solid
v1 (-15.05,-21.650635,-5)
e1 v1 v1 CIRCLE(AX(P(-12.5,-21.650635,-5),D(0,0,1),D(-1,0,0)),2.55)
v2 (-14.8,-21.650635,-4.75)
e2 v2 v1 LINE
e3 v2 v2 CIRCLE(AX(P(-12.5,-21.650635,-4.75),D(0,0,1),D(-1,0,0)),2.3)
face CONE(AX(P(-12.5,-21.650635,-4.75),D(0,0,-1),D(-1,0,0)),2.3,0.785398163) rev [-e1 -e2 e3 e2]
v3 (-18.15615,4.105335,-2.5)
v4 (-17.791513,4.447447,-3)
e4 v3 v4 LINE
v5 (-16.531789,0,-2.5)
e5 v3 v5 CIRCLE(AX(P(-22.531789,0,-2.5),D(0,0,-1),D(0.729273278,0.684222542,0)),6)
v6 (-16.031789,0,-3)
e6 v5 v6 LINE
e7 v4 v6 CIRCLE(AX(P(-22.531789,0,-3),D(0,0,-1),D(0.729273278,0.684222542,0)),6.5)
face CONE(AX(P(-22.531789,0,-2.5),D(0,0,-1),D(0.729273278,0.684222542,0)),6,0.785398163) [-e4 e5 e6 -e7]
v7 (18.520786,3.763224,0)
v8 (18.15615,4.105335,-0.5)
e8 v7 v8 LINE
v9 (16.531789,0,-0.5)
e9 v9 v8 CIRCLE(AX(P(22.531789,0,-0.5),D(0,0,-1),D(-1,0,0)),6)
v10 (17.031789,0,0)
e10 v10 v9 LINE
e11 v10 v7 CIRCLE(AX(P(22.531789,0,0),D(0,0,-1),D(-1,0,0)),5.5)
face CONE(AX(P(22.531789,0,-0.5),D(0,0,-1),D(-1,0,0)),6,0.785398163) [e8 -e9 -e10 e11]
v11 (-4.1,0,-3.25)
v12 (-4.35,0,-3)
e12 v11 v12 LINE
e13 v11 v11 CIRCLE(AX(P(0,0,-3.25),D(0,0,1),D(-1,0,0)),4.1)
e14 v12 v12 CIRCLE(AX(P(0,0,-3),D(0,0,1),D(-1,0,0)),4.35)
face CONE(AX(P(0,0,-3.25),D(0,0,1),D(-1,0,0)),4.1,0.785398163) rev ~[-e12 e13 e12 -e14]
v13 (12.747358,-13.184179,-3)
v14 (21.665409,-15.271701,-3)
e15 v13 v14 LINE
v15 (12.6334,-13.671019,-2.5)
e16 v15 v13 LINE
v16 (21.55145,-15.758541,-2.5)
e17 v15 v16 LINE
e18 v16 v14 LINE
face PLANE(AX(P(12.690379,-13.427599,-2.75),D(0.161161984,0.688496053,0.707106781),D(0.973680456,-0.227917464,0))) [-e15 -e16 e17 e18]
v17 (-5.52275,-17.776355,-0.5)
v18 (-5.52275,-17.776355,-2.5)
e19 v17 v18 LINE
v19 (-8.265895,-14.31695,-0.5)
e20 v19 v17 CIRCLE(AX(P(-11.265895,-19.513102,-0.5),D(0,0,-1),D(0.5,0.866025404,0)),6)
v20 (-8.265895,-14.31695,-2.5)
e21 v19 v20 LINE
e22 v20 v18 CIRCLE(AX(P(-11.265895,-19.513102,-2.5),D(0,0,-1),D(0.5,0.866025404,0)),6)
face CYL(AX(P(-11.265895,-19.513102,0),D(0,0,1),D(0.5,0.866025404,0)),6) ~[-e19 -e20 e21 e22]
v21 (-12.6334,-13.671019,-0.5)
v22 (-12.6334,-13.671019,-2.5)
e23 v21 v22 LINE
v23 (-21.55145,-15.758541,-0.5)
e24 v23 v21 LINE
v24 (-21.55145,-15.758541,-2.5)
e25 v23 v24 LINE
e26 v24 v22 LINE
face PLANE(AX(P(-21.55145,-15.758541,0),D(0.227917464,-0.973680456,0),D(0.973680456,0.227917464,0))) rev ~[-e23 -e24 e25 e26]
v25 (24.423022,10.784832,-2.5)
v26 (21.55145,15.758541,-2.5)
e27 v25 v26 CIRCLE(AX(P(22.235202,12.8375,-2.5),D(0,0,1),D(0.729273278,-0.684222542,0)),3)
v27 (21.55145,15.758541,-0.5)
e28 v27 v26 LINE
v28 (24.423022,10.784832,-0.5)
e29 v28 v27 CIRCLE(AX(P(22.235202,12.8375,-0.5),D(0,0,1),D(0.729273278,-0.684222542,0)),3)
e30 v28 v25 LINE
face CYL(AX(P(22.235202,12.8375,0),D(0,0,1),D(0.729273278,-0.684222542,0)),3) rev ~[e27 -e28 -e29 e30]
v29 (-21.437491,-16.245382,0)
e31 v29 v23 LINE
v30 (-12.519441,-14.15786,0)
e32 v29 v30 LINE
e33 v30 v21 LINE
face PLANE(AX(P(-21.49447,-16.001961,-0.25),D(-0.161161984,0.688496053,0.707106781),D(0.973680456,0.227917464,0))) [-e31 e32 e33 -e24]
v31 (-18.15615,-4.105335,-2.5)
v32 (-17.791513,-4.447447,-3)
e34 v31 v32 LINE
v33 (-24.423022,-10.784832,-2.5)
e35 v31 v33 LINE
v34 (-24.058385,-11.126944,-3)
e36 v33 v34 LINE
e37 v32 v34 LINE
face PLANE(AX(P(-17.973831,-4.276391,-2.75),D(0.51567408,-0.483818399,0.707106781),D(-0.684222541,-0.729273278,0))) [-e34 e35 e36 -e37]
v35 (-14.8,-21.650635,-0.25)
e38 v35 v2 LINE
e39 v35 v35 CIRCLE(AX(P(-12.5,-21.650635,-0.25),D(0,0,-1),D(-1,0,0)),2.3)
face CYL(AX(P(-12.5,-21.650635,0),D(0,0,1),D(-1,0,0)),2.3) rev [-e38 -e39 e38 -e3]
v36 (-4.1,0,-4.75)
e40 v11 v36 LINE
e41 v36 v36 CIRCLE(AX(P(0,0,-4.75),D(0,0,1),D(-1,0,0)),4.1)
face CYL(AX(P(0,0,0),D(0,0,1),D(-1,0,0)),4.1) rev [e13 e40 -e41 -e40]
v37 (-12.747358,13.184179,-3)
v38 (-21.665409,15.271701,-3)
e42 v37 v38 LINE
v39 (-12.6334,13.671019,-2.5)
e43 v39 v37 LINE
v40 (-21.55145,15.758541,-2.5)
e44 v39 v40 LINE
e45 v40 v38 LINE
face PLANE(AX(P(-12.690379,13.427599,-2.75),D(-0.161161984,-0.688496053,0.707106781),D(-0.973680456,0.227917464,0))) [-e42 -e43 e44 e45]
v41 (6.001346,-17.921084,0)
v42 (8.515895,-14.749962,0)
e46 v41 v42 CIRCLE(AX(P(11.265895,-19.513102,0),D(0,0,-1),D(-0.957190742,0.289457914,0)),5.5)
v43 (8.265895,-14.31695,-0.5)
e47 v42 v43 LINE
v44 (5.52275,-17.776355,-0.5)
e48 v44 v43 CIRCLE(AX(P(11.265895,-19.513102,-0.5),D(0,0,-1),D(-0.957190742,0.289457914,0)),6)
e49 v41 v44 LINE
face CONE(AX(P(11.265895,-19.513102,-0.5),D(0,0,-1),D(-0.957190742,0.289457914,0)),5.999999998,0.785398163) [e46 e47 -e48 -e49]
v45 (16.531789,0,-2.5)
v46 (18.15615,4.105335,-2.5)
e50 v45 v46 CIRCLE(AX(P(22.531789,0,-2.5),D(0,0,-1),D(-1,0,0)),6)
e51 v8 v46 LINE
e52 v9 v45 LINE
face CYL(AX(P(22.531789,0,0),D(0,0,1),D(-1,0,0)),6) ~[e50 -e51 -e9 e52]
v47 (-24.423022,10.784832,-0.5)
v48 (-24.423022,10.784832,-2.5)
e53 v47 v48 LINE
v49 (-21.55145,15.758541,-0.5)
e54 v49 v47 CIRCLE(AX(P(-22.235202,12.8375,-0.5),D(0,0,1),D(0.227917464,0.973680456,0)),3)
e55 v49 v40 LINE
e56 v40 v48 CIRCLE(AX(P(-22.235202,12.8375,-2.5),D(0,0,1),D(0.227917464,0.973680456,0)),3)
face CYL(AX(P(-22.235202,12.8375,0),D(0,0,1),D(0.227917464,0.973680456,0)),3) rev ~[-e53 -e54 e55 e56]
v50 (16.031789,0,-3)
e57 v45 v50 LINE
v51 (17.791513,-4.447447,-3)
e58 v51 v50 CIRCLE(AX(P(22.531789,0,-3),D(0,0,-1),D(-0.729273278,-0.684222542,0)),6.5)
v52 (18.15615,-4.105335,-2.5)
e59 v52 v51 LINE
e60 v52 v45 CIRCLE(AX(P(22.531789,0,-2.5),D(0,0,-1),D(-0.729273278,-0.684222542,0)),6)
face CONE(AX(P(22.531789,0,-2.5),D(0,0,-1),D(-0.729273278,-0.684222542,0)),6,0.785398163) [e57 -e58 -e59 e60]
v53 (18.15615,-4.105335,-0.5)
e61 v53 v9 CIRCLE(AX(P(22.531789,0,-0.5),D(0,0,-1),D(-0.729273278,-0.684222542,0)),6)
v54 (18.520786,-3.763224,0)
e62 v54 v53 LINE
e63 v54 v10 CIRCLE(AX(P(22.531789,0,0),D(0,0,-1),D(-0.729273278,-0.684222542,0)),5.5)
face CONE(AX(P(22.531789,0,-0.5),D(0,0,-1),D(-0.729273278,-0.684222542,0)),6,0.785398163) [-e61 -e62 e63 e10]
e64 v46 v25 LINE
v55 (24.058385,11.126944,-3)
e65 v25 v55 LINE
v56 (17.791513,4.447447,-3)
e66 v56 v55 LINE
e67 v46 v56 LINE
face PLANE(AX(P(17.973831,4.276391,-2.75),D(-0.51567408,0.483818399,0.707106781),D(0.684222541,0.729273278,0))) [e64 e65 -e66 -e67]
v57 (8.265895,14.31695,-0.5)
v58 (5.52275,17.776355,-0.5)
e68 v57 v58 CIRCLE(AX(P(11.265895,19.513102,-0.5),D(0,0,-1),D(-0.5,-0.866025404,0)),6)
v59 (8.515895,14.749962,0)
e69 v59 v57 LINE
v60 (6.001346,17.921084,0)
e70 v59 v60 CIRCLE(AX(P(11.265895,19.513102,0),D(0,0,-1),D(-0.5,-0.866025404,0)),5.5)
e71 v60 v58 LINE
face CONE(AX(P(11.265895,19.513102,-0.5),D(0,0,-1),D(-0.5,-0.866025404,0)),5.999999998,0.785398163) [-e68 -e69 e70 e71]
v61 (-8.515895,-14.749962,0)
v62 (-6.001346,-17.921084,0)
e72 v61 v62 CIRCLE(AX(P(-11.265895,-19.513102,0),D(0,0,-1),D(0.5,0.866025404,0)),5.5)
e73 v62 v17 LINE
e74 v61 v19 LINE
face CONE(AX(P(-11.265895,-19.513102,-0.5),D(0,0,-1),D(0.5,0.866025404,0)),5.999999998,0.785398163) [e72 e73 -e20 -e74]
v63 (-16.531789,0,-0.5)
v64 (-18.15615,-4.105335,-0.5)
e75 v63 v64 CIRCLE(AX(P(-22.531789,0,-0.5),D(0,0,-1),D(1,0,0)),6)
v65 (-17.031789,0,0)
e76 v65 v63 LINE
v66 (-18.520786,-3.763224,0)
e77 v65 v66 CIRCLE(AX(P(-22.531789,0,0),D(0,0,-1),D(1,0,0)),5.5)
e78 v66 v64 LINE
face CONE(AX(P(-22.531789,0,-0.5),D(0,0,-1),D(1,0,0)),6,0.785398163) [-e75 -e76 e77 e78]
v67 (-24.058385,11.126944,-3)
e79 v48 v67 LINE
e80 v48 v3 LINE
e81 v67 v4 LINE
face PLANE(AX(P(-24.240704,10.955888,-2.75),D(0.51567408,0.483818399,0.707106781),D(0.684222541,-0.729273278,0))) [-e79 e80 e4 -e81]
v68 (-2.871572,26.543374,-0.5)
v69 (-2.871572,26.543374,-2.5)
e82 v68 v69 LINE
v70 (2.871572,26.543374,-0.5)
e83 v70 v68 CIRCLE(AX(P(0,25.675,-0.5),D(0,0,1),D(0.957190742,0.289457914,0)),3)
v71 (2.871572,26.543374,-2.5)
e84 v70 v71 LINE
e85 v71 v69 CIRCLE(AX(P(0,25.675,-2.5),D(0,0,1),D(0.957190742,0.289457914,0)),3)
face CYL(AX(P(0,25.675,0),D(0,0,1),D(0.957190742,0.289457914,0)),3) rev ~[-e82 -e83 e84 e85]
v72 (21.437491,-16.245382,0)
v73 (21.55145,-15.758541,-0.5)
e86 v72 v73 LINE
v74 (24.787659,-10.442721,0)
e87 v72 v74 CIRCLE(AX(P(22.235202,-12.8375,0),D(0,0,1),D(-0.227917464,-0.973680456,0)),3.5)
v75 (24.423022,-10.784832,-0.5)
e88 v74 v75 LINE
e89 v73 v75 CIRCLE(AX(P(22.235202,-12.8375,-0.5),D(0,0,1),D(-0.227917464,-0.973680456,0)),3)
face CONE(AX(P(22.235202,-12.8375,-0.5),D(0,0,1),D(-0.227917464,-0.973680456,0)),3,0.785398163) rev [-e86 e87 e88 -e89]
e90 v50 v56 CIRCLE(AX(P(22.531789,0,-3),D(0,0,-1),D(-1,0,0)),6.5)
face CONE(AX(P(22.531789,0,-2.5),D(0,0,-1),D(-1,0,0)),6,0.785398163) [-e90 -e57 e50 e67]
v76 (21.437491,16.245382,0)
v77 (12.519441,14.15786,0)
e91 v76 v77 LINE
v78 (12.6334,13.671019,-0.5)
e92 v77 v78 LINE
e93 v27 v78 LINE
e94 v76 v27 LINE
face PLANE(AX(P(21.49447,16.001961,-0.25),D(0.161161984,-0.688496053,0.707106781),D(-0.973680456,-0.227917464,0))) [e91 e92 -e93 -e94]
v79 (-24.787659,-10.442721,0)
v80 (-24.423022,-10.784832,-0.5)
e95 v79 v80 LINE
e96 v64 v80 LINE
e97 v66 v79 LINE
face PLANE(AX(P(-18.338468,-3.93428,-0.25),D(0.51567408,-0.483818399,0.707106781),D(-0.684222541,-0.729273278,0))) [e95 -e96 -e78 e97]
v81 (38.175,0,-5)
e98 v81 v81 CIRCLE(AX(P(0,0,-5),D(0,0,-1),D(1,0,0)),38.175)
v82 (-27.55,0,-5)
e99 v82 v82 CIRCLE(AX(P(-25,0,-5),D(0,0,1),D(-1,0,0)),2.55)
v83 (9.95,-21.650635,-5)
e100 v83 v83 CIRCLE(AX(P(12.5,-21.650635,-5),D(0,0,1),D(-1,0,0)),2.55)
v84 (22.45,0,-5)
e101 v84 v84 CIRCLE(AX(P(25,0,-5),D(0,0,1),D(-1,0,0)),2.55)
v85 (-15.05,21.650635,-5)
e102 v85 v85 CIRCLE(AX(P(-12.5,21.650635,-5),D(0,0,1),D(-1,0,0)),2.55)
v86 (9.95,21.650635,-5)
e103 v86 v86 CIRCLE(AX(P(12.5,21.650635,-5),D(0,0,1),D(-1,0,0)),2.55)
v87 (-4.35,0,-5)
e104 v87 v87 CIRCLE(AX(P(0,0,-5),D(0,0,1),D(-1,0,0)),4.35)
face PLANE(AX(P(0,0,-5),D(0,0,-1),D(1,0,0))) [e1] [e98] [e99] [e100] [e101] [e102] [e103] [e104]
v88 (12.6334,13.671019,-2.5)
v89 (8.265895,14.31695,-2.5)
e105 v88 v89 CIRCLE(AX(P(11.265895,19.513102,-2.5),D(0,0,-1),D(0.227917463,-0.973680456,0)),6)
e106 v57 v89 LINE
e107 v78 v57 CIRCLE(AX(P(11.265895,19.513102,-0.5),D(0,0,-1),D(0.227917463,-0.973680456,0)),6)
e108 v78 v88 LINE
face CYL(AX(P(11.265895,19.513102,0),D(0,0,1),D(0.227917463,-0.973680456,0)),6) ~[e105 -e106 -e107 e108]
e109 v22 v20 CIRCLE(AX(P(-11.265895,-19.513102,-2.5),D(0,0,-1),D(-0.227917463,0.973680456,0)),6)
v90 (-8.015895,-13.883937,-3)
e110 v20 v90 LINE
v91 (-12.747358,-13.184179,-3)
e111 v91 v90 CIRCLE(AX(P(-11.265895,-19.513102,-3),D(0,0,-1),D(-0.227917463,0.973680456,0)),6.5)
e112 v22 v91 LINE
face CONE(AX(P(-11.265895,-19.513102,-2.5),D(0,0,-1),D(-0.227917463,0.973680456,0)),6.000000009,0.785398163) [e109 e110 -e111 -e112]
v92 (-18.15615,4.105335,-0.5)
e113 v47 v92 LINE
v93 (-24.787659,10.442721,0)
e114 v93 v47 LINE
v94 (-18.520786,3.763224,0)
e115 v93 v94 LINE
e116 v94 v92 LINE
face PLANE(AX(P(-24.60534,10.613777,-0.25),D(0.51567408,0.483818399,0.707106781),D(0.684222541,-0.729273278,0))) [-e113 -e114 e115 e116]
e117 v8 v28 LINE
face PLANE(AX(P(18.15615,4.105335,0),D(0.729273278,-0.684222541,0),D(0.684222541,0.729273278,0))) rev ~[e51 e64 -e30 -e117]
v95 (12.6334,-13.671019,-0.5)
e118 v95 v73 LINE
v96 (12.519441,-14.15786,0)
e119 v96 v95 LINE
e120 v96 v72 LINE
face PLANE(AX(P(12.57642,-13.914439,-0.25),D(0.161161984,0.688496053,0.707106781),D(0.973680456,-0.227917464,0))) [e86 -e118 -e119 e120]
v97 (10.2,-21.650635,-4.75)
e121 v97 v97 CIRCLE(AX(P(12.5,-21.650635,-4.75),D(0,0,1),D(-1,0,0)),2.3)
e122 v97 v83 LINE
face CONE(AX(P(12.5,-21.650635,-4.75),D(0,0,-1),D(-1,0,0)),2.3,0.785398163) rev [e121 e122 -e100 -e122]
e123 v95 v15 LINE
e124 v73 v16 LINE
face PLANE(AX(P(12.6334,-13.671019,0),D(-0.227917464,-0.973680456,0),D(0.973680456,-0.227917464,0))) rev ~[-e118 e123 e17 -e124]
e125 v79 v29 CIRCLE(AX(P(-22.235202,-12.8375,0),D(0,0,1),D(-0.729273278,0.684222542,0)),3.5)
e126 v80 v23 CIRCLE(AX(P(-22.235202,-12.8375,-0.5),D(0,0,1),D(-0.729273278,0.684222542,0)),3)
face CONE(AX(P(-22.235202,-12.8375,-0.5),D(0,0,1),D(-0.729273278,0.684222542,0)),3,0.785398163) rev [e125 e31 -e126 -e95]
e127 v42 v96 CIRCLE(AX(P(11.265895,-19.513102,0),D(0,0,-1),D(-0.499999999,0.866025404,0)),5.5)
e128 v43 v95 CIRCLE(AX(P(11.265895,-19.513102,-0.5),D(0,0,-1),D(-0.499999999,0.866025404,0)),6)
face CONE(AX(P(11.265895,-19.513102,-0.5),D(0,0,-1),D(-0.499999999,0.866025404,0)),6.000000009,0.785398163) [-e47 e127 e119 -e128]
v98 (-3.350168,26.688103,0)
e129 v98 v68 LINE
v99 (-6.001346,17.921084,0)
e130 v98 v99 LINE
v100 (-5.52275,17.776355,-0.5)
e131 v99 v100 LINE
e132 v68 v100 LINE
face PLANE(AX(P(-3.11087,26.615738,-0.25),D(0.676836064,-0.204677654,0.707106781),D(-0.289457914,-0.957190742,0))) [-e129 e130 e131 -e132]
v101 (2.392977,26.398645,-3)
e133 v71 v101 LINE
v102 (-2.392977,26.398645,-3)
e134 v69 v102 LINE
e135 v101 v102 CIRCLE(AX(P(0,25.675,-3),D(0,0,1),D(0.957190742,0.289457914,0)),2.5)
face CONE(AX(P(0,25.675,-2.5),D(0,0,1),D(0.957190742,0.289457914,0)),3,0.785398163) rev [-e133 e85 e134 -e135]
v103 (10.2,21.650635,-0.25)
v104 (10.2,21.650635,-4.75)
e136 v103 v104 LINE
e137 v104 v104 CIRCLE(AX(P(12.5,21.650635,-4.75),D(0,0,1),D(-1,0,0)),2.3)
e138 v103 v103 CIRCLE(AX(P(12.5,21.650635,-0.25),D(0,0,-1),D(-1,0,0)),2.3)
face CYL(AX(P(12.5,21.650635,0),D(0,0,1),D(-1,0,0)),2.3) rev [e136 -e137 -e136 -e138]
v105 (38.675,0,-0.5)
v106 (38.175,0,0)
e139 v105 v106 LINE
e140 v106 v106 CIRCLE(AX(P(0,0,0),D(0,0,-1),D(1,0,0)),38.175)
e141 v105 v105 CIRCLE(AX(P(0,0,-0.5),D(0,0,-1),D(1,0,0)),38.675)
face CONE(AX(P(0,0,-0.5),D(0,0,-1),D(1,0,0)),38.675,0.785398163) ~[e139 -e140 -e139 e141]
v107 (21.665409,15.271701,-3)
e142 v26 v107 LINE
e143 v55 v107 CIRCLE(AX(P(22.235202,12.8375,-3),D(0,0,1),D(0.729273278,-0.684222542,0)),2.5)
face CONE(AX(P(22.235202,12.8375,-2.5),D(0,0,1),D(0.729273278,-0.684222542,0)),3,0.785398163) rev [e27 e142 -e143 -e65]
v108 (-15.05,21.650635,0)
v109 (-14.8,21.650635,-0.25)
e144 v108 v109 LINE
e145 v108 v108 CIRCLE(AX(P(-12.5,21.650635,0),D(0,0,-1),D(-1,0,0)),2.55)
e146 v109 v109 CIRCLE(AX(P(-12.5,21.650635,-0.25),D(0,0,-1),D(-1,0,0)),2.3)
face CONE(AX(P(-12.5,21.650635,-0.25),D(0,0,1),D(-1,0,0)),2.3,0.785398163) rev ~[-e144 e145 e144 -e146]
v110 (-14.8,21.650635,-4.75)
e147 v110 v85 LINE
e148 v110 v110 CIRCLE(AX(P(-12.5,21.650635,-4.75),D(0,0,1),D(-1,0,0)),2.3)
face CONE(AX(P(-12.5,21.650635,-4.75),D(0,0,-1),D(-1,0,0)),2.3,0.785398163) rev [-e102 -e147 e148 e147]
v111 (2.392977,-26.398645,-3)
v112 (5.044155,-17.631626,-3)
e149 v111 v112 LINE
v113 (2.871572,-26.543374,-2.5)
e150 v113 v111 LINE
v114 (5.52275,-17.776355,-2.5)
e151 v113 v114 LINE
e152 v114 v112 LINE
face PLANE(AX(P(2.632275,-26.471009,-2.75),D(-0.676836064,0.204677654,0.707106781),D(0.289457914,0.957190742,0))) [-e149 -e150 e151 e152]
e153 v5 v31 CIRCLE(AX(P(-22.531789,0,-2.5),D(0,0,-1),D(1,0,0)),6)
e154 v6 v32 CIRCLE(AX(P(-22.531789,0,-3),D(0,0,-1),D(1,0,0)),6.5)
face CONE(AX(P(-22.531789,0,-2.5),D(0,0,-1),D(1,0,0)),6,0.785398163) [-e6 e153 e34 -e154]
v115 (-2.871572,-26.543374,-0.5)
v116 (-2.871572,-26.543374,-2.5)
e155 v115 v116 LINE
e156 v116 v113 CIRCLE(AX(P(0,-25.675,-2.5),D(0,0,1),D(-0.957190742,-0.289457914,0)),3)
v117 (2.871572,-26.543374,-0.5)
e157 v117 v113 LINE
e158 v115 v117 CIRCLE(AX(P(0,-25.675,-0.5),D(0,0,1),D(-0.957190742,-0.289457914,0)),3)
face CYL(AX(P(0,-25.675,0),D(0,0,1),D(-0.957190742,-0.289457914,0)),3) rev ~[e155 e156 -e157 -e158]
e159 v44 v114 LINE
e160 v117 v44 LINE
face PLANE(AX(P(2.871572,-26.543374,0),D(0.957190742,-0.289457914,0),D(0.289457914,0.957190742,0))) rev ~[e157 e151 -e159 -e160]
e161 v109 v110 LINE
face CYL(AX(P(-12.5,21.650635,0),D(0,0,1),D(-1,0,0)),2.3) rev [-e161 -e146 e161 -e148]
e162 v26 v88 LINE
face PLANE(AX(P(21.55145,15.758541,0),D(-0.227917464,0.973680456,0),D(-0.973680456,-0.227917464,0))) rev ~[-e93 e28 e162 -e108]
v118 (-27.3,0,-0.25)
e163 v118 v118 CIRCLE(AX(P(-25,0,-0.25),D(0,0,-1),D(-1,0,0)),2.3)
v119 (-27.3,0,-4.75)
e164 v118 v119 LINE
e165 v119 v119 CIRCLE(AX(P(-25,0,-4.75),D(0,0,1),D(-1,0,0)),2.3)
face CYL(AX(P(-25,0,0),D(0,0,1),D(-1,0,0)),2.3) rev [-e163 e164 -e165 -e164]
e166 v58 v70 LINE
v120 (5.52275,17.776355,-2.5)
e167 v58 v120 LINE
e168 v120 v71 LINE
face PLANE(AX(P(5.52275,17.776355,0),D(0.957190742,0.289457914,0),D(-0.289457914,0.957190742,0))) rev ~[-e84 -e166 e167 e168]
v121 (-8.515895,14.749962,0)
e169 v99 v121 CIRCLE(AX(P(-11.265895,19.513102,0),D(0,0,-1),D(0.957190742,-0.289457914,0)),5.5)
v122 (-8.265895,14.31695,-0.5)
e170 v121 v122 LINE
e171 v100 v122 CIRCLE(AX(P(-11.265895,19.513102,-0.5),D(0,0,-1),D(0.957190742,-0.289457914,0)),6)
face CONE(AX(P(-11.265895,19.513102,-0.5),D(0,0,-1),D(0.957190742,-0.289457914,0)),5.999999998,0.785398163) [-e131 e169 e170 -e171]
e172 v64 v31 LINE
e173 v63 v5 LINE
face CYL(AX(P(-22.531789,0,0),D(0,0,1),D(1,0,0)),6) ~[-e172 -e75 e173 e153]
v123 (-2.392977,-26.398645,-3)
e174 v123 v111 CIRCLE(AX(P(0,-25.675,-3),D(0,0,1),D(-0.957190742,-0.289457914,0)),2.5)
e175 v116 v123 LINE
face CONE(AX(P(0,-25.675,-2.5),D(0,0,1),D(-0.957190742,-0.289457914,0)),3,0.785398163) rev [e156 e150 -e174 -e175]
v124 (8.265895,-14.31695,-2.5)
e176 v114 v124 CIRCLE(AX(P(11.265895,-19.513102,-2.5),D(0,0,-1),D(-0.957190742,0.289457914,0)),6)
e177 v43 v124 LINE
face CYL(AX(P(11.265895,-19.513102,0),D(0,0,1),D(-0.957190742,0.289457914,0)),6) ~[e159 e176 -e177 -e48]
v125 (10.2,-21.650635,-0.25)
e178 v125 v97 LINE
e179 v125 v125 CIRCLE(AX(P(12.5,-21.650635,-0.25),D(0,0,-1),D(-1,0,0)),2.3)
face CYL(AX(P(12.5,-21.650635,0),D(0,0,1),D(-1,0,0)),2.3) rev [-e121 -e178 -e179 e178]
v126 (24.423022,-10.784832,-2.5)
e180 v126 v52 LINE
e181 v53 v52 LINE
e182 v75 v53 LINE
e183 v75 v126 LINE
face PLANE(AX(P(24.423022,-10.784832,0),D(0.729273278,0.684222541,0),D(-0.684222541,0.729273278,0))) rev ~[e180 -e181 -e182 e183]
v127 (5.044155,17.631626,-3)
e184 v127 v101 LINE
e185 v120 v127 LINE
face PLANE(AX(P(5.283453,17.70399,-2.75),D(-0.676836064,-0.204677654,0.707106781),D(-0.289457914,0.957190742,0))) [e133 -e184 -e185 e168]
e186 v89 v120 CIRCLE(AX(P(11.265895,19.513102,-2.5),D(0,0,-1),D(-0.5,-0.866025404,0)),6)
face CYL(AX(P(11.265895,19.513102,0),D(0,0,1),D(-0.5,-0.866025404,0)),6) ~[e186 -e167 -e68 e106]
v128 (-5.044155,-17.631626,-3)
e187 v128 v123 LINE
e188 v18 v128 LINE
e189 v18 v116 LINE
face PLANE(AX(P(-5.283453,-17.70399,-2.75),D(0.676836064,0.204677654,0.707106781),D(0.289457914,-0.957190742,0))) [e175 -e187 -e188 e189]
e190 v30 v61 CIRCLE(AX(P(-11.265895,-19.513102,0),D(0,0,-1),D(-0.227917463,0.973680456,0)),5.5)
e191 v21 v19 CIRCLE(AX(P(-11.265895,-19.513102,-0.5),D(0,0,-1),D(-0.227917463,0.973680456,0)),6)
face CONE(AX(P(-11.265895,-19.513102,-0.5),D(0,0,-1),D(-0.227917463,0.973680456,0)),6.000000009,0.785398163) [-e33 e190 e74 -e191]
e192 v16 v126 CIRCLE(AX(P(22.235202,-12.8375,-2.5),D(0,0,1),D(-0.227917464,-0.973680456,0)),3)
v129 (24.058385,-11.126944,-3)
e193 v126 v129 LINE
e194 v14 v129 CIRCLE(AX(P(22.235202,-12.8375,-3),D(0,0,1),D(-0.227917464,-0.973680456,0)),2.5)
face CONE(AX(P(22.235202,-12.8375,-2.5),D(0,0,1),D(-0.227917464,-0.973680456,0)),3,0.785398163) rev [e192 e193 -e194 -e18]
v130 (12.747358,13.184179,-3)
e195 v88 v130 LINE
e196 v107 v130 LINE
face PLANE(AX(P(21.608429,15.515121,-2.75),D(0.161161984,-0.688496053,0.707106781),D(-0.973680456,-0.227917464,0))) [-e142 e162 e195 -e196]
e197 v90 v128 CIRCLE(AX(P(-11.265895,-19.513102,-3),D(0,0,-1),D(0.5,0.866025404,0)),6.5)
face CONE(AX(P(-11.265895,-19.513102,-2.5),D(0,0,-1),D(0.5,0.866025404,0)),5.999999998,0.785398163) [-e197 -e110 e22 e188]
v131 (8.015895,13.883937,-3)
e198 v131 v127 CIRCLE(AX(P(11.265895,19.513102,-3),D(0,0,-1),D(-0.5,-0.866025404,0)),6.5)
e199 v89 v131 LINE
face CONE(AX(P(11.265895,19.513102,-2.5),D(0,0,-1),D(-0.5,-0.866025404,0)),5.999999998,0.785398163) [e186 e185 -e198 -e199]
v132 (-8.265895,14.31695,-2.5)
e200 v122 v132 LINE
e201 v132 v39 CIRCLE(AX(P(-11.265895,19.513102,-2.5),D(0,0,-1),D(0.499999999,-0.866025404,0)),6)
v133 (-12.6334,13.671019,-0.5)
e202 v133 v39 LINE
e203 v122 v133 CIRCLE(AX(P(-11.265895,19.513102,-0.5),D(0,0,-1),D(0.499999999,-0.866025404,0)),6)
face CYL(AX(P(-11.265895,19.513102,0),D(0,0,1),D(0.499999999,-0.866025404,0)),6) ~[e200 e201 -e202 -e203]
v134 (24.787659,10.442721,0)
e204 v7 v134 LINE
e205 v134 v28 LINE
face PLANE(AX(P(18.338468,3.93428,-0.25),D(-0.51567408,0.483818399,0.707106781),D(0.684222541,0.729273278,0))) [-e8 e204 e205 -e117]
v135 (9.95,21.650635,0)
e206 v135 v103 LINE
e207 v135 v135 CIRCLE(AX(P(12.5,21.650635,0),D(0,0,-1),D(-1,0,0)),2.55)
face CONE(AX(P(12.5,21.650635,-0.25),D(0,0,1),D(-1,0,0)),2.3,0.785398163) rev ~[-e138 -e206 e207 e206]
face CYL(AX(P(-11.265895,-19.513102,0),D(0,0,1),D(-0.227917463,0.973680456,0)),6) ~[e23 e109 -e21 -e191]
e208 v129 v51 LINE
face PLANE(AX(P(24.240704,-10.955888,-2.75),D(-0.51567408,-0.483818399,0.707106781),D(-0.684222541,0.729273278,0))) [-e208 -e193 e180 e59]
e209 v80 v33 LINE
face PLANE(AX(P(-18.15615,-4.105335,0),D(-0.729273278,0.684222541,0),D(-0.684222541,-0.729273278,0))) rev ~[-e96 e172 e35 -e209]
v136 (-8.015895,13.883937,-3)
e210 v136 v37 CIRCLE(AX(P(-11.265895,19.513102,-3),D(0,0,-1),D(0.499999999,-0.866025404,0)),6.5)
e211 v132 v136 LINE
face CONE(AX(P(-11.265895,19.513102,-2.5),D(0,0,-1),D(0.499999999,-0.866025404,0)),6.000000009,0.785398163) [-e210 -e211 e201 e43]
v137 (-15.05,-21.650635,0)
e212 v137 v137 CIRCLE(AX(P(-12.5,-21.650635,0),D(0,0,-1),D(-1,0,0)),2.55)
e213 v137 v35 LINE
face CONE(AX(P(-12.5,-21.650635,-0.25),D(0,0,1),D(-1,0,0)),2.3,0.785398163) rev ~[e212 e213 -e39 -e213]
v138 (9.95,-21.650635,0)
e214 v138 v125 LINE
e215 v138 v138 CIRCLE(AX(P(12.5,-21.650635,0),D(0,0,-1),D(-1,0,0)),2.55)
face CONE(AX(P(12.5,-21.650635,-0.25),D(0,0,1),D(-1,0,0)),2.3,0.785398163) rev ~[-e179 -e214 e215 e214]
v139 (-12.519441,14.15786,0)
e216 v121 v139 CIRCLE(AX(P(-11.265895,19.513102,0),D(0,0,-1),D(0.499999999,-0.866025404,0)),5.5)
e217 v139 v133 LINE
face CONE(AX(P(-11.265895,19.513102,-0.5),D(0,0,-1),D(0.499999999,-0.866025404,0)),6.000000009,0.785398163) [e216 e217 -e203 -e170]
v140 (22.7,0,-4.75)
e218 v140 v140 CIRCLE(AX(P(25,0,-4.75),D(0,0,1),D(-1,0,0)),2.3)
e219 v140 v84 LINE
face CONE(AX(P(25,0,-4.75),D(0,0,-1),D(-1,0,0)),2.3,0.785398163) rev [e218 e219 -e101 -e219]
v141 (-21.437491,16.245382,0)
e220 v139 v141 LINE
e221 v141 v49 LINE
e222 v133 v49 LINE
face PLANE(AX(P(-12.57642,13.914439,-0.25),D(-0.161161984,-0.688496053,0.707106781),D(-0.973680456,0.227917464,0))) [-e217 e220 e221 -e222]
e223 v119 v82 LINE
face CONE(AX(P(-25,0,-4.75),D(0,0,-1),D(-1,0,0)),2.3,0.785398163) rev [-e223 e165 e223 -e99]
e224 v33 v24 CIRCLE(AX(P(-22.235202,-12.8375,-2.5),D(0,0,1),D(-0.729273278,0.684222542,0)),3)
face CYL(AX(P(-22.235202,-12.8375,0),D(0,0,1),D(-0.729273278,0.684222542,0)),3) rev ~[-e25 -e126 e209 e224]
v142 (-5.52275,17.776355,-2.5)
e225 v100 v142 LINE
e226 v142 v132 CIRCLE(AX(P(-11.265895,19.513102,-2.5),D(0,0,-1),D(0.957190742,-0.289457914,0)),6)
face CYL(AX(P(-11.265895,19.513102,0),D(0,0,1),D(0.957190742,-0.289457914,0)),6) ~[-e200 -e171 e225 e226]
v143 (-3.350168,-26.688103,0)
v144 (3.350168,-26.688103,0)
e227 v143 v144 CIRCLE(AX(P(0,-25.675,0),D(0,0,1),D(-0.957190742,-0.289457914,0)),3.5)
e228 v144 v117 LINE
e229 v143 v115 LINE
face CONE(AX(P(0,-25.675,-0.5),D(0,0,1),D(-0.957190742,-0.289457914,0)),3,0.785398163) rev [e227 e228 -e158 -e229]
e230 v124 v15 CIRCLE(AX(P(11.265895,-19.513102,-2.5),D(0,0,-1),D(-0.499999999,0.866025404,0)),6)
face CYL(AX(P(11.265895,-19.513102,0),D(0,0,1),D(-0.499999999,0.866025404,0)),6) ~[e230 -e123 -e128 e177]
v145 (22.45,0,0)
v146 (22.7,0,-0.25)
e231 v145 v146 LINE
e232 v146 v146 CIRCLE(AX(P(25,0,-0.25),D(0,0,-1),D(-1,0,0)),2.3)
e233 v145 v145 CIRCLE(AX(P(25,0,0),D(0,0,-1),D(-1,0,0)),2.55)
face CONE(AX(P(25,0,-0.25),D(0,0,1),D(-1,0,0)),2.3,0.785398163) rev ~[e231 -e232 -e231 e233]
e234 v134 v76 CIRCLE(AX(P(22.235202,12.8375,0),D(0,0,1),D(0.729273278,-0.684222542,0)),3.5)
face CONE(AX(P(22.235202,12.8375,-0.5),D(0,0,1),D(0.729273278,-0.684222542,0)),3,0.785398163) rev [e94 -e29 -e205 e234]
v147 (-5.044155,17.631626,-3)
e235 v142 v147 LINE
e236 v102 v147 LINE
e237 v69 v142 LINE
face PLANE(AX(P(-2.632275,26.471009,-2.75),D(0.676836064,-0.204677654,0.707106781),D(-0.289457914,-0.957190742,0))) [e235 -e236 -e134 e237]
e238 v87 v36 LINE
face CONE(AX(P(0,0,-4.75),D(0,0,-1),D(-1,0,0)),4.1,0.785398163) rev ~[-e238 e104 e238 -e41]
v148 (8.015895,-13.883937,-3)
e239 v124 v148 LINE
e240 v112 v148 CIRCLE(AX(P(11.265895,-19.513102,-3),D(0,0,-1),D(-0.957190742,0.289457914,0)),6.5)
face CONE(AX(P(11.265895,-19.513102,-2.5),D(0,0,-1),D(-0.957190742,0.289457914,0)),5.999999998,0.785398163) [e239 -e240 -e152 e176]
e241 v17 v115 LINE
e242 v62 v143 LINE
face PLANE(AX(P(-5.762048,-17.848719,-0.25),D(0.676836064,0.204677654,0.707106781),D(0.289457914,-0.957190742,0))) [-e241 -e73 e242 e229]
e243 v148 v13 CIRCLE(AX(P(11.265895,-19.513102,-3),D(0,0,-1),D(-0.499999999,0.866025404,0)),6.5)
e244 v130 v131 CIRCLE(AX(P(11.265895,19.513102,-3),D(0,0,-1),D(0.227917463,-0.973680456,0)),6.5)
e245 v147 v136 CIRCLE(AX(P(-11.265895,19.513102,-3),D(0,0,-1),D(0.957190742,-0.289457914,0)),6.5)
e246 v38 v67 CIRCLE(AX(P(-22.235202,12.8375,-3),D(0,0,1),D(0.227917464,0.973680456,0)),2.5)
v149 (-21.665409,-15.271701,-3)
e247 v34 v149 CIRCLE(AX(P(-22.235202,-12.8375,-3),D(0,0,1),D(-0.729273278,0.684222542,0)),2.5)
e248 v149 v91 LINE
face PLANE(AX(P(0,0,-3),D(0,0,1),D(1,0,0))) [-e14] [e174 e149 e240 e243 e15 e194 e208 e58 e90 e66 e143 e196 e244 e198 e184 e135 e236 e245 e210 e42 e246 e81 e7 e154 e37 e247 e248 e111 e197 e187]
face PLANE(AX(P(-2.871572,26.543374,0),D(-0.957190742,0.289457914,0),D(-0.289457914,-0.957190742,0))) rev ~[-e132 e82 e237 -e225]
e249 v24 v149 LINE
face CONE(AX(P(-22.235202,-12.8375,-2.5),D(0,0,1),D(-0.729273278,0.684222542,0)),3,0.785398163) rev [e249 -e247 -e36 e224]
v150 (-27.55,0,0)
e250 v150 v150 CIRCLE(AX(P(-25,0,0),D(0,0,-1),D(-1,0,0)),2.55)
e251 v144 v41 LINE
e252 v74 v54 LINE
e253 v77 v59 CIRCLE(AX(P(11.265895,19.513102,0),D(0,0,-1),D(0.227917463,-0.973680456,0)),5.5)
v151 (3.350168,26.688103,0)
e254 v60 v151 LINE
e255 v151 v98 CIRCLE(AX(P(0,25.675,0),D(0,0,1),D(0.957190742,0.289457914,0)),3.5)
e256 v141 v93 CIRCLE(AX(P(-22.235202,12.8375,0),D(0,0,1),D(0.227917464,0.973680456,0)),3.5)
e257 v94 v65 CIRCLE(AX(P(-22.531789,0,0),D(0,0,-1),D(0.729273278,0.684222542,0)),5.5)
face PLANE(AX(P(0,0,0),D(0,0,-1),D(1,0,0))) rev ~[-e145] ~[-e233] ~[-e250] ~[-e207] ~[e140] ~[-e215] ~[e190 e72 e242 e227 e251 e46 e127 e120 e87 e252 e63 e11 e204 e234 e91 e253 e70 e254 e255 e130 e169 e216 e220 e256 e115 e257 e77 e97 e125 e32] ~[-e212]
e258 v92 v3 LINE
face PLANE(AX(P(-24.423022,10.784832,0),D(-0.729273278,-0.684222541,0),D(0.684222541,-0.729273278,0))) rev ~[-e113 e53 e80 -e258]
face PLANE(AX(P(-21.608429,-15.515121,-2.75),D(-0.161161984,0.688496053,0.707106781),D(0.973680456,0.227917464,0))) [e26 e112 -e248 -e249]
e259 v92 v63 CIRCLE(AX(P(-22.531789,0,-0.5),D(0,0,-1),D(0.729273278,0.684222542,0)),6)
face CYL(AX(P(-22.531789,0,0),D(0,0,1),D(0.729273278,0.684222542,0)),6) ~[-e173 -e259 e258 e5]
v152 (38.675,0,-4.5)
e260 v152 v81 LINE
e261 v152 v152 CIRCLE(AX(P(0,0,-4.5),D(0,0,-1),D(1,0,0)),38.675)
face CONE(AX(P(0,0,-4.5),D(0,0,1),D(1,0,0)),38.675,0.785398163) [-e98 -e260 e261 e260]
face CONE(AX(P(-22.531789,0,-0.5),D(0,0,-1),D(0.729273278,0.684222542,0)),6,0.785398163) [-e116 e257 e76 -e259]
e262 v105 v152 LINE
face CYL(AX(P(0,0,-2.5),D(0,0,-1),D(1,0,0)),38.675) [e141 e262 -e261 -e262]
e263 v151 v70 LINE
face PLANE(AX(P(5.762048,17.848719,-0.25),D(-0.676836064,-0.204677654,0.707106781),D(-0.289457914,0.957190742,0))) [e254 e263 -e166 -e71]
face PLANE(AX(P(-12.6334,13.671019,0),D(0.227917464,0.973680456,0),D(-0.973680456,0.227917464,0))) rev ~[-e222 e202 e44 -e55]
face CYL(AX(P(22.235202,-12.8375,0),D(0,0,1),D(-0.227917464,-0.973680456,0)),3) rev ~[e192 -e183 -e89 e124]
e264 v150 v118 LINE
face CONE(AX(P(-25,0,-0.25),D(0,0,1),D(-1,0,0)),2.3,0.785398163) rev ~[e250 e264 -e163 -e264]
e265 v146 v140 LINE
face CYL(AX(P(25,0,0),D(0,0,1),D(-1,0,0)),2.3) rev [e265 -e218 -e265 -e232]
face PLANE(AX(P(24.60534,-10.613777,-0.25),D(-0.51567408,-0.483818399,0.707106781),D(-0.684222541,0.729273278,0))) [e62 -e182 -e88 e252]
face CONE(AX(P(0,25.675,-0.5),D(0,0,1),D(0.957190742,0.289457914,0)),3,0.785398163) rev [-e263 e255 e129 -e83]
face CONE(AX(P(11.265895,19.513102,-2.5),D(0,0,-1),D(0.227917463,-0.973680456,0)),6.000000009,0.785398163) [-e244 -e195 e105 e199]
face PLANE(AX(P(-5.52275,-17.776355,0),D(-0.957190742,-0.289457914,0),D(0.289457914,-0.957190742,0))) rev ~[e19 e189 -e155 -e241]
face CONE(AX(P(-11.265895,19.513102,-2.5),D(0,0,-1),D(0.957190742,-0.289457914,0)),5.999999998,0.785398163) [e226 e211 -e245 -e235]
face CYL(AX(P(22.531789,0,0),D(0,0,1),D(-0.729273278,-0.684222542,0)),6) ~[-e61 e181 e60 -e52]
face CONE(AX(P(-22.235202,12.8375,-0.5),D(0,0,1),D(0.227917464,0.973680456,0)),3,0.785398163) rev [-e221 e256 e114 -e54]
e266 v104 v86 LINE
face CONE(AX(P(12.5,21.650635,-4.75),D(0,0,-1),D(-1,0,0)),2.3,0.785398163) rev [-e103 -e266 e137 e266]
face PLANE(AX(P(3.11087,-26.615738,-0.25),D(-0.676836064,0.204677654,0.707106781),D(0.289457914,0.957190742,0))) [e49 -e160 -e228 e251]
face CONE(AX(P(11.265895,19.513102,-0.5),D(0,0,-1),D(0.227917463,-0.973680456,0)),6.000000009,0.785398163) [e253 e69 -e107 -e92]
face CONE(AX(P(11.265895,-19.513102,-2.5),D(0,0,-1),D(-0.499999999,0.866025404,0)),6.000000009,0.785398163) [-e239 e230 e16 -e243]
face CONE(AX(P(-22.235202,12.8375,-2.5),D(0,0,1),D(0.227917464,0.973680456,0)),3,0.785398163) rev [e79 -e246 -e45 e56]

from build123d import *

# Parameters (mm, degrees)
SKETCH1_W           = 38.675
SKETCH1_H           = 5
SKETCH3_R           = 4.1
SKETCH3_R_2         = 2.3
CUT_EXTRUDE4_DEPTH  = 55.92277533
CHAMFER1_SIZE       = 0.5
CUT_EXTRUDE11_DEPTH = 3
CHAMFER2_SIZE       = 0.5
CHAMFER3_SIZE       = 0.25


with BuildPart() as part:
    # Sketch1 → Revolve1 (revolve)
    with BuildSketch(Plane(origin=(0, 0, 0), x_dir=(1, 0, 0), z_dir=(0, 1, 0)), mode=Mode.PRIVATE) as revolve1_sk:
        with Locations((-19.3375, 2.5)):
            Rectangle(SKETCH1_W, SKETCH1_H)
    revolve(revolve1_sk.sketch.rotate(Axis((0, 0, 0), (0, 0, -1)), 180), axis=Axis((0, 0, 0), (0, 0, -1)))

    # Sketch3 → Cut-Extrude4 (cut, through all)
    with BuildSketch(Plane(origin=(0, 0, 0), x_dir=(-1, 0, 0), z_dir=(0, 0, -1))):
        Circle(SKETCH3_R)
        with Locations((-12.5, 21.650635095)):
            Circle(SKETCH3_R_2)
        with Locations((12.5, 21.650635095)):
            Circle(SKETCH3_R_2)
        with Locations((25, 0)):
            Circle(SKETCH3_R_2)
        with Locations((12.5, -21.650635095)):
            Circle(SKETCH3_R_2)
        with Locations((-12.5, -21.650635095)):
            Circle(SKETCH3_R_2)
        with Locations((-25, 0)):
            Circle(SKETCH3_R_2)
    extrude(amount=CUT_EXTRUDE4_DEPTH, mode=Mode.SUBTRACT)

    # Chamfer1
    chamfer1_edges = [part.edges().sort_by_distance(p)[0] for p in [
        (-38.675, 0, 0),
        (-38.675, 0, -5),
    ]]
    chamfer(chamfer1_edges, length=CHAMFER1_SIZE)

    # Sketch14 → Cut-Extrude11 (cut)
    with BuildSketch(Plane.XY):
        with BuildLine():
            Line((-2.871572225, 26.543373742), (-5.522750274, 17.77635457))
            ThreePointArc((-5.522750274, 17.77635457), (-6.564563598, 15.785168894), (-8.265894724, 14.316949631))
            ThreePointArc((-8.265894724, 14.316949631), (-10.388075466, 13.577663288), (-12.633399507, 13.67101932))
            Line((-12.633399507, 13.67101932), (-21.55144985, 15.758541367))
            ThreePointArc((-21.55144985, 15.758541367), (-24.833278454, 14.3375), (-24.423022075, 10.784832375))
            Line((-24.423022075, 10.784832375), (-18.156149781, 4.105335249))
            ThreePointArc((-18.156149781, 4.105335249), (-16.952639064, 2.207505606), (-16.531789447, 0))
            ThreePointArc((-16.531789447, 0), (-16.952639064, -2.207505606), (-18.156149781, -4.105335249))
            Line((-18.156149781, -4.105335249), (-24.423022075, -10.784832375))
            ThreePointArc((-24.423022075, -10.784832375), (-24.833278454, -14.3375), (-21.55144985, -15.758541367))
            Line((-21.55144985, -15.758541367), (-12.633399507, -13.67101932))
            ThreePointArc((-12.633399507, -13.67101932), (-10.388075466, -13.577663288), (-8.265894724, -14.316949631))
            ThreePointArc((-8.265894724, -14.316949631), (-6.564563598, -15.785168894), (-5.522750274, -17.77635457))
            Line((-5.522750274, -17.77635457), (-2.871572225, -26.543373742))
            ThreePointArc((-2.871572225, -26.543373742), (0, -28.675), (2.871572225, -26.543373742))
            Line((2.871572225, -26.543373742), (5.522750274, -17.77635457))
            ThreePointArc((5.522750274, -17.77635457), (6.564563598, -15.785168894), (8.265894724, -14.316949631))
            ThreePointArc((8.265894724, -14.316949631), (10.388075466, -13.577663288), (12.633399507, -13.67101932))
            Line((12.633399507, -13.67101932), (21.55144985, -15.758541367))
            ThreePointArc((21.55144985, -15.758541367), (24.833278454, -14.3375), (24.423022075, -10.784832375))
            Line((24.423022075, -10.784832375), (18.156149781, -4.105335249))
            ThreePointArc((18.156149781, -4.105335249), (16.952639064, -2.207505606), (16.531789447, 0))
            ThreePointArc((16.531789447, 0), (16.952639064, 2.207505606), (18.156149781, 4.105335249))
            Line((18.156149781, 4.105335249), (24.423022075, 10.784832375))
            ThreePointArc((24.423022075, 10.784832375), (24.833278454, 14.3375), (21.55144985, 15.758541367))
            Line((21.55144985, 15.758541367), (12.633399507, 13.67101932))
            ThreePointArc((12.633399507, 13.67101932), (10.388075466, 13.577663288), (8.265894724, 14.316949631))
            ThreePointArc((8.265894724, 14.316949631), (6.564563598, 15.785168894), (5.522750274, 17.77635457))
            Line((5.522750274, 17.77635457), (2.871572225, 26.543373742))
            ThreePointArc((2.871572225, 26.543373742), (0, 28.675), (-2.871572225, 26.543373742))
        make_face()
    extrude(amount=-CUT_EXTRUDE11_DEPTH, mode=Mode.SUBTRACT)

    # Chamfer2
    chamfer2_edges = [part.edges().sort_by_distance(p)[0] for p in [
        (0, 28.675, -3),
        (4.197161249, 22.159864156, -3),
        (8.265894724, 14.316949631, -3),
        (17.092424679, 14.714780344, -3),
        (24.833278454, 14.3375, -3),
        (21.289585928, 7.445083812, -3),
        (16.531789447, 0, -3),
        (21.289585928, -7.445083812, -3),
        (24.833278454, -14.3375, -3),
        (17.092424679, -14.714780344, -3),
        (8.265894724, -14.316949631, -3),
        (4.197161249, -22.159864156, -3),
        (0, -28.675, -3),
        (-4.197161249, -22.159864156, -3),
        (-8.265894724, -14.316949631, -3),
        (-17.092424679, -14.714780344, -3),
        (-24.833278454, -14.3375, -3),
        (-21.289585928, -7.445083812, -3),
        (-16.531789447, 0, -3),
        (-21.289585928, 7.445083812, -3),
        (-24.833278454, 14.3375, -3),
        (-17.092424679, 14.714780344, -3),
        (-8.265894724, 14.316949631, -3),
        (-4.197161249, 22.159864156, -3),
        (0, 28.675, 0),
        (-4.197161249, 22.159864156, 0),
        (-8.265894724, 14.316949631, 0),
        (-17.092424679, 14.714780344, 0),
        (-24.833278454, 14.3375, 0),
        (-21.289585928, 7.445083812, 0),
        (-16.531789447, 0, 0),
        (-21.289585928, -7.445083812, 0),
        (-24.833278454, -14.3375, 0),
        (-17.092424679, -14.714780344, 0),
        (-8.265894724, -14.316949631, 0),
        (-4.197161249, -22.159864156, 0),
        (0, -28.675, 0),
        (4.197161249, -22.159864156, 0),
        (8.265894724, -14.316949631, 0),
        (17.092424679, -14.714780344, 0),
        (24.833278454, -14.3375, 0),
        (21.289585928, -7.445083812, 0),
        (16.531789447, 0, 0),
        (21.289585928, 7.445083812, 0),
        (24.833278454, 14.3375, 0),
        (17.092424679, 14.714780344, 0),
        (8.265894724, 14.316949631, 0),
        (4.197161249, 22.159864156, 0),
    ]]
    chamfer(chamfer2_edges, length=CHAMFER2_SIZE)

    # Chamfer3
    chamfer3_edges = [part.edges().sort_by_distance(p)[0] for p in [
        (14.8, 21.650635095, 0),
        (14.8, 21.650635095, -5),
        (-10.2, 21.650635095, 0),
        (-10.2, 21.650635095, -5),
        (-22.7, 0, 0),
        (-22.7, 0, -5),
        (-10.2, -21.650635095, 0),
        (-10.2, -21.650635095, -5),
        (14.8, -21.650635095, 0),
        (14.8, -21.650635095, -5),
        (27.3, 0, 0),
        (27.3, 0, -5),
        (4.1, 0, -5),
        (4.1, 0, -3),
    ]]
    chamfer(chamfer3_edges, length=CHAMFER3_SIZE)


solid = part.part
